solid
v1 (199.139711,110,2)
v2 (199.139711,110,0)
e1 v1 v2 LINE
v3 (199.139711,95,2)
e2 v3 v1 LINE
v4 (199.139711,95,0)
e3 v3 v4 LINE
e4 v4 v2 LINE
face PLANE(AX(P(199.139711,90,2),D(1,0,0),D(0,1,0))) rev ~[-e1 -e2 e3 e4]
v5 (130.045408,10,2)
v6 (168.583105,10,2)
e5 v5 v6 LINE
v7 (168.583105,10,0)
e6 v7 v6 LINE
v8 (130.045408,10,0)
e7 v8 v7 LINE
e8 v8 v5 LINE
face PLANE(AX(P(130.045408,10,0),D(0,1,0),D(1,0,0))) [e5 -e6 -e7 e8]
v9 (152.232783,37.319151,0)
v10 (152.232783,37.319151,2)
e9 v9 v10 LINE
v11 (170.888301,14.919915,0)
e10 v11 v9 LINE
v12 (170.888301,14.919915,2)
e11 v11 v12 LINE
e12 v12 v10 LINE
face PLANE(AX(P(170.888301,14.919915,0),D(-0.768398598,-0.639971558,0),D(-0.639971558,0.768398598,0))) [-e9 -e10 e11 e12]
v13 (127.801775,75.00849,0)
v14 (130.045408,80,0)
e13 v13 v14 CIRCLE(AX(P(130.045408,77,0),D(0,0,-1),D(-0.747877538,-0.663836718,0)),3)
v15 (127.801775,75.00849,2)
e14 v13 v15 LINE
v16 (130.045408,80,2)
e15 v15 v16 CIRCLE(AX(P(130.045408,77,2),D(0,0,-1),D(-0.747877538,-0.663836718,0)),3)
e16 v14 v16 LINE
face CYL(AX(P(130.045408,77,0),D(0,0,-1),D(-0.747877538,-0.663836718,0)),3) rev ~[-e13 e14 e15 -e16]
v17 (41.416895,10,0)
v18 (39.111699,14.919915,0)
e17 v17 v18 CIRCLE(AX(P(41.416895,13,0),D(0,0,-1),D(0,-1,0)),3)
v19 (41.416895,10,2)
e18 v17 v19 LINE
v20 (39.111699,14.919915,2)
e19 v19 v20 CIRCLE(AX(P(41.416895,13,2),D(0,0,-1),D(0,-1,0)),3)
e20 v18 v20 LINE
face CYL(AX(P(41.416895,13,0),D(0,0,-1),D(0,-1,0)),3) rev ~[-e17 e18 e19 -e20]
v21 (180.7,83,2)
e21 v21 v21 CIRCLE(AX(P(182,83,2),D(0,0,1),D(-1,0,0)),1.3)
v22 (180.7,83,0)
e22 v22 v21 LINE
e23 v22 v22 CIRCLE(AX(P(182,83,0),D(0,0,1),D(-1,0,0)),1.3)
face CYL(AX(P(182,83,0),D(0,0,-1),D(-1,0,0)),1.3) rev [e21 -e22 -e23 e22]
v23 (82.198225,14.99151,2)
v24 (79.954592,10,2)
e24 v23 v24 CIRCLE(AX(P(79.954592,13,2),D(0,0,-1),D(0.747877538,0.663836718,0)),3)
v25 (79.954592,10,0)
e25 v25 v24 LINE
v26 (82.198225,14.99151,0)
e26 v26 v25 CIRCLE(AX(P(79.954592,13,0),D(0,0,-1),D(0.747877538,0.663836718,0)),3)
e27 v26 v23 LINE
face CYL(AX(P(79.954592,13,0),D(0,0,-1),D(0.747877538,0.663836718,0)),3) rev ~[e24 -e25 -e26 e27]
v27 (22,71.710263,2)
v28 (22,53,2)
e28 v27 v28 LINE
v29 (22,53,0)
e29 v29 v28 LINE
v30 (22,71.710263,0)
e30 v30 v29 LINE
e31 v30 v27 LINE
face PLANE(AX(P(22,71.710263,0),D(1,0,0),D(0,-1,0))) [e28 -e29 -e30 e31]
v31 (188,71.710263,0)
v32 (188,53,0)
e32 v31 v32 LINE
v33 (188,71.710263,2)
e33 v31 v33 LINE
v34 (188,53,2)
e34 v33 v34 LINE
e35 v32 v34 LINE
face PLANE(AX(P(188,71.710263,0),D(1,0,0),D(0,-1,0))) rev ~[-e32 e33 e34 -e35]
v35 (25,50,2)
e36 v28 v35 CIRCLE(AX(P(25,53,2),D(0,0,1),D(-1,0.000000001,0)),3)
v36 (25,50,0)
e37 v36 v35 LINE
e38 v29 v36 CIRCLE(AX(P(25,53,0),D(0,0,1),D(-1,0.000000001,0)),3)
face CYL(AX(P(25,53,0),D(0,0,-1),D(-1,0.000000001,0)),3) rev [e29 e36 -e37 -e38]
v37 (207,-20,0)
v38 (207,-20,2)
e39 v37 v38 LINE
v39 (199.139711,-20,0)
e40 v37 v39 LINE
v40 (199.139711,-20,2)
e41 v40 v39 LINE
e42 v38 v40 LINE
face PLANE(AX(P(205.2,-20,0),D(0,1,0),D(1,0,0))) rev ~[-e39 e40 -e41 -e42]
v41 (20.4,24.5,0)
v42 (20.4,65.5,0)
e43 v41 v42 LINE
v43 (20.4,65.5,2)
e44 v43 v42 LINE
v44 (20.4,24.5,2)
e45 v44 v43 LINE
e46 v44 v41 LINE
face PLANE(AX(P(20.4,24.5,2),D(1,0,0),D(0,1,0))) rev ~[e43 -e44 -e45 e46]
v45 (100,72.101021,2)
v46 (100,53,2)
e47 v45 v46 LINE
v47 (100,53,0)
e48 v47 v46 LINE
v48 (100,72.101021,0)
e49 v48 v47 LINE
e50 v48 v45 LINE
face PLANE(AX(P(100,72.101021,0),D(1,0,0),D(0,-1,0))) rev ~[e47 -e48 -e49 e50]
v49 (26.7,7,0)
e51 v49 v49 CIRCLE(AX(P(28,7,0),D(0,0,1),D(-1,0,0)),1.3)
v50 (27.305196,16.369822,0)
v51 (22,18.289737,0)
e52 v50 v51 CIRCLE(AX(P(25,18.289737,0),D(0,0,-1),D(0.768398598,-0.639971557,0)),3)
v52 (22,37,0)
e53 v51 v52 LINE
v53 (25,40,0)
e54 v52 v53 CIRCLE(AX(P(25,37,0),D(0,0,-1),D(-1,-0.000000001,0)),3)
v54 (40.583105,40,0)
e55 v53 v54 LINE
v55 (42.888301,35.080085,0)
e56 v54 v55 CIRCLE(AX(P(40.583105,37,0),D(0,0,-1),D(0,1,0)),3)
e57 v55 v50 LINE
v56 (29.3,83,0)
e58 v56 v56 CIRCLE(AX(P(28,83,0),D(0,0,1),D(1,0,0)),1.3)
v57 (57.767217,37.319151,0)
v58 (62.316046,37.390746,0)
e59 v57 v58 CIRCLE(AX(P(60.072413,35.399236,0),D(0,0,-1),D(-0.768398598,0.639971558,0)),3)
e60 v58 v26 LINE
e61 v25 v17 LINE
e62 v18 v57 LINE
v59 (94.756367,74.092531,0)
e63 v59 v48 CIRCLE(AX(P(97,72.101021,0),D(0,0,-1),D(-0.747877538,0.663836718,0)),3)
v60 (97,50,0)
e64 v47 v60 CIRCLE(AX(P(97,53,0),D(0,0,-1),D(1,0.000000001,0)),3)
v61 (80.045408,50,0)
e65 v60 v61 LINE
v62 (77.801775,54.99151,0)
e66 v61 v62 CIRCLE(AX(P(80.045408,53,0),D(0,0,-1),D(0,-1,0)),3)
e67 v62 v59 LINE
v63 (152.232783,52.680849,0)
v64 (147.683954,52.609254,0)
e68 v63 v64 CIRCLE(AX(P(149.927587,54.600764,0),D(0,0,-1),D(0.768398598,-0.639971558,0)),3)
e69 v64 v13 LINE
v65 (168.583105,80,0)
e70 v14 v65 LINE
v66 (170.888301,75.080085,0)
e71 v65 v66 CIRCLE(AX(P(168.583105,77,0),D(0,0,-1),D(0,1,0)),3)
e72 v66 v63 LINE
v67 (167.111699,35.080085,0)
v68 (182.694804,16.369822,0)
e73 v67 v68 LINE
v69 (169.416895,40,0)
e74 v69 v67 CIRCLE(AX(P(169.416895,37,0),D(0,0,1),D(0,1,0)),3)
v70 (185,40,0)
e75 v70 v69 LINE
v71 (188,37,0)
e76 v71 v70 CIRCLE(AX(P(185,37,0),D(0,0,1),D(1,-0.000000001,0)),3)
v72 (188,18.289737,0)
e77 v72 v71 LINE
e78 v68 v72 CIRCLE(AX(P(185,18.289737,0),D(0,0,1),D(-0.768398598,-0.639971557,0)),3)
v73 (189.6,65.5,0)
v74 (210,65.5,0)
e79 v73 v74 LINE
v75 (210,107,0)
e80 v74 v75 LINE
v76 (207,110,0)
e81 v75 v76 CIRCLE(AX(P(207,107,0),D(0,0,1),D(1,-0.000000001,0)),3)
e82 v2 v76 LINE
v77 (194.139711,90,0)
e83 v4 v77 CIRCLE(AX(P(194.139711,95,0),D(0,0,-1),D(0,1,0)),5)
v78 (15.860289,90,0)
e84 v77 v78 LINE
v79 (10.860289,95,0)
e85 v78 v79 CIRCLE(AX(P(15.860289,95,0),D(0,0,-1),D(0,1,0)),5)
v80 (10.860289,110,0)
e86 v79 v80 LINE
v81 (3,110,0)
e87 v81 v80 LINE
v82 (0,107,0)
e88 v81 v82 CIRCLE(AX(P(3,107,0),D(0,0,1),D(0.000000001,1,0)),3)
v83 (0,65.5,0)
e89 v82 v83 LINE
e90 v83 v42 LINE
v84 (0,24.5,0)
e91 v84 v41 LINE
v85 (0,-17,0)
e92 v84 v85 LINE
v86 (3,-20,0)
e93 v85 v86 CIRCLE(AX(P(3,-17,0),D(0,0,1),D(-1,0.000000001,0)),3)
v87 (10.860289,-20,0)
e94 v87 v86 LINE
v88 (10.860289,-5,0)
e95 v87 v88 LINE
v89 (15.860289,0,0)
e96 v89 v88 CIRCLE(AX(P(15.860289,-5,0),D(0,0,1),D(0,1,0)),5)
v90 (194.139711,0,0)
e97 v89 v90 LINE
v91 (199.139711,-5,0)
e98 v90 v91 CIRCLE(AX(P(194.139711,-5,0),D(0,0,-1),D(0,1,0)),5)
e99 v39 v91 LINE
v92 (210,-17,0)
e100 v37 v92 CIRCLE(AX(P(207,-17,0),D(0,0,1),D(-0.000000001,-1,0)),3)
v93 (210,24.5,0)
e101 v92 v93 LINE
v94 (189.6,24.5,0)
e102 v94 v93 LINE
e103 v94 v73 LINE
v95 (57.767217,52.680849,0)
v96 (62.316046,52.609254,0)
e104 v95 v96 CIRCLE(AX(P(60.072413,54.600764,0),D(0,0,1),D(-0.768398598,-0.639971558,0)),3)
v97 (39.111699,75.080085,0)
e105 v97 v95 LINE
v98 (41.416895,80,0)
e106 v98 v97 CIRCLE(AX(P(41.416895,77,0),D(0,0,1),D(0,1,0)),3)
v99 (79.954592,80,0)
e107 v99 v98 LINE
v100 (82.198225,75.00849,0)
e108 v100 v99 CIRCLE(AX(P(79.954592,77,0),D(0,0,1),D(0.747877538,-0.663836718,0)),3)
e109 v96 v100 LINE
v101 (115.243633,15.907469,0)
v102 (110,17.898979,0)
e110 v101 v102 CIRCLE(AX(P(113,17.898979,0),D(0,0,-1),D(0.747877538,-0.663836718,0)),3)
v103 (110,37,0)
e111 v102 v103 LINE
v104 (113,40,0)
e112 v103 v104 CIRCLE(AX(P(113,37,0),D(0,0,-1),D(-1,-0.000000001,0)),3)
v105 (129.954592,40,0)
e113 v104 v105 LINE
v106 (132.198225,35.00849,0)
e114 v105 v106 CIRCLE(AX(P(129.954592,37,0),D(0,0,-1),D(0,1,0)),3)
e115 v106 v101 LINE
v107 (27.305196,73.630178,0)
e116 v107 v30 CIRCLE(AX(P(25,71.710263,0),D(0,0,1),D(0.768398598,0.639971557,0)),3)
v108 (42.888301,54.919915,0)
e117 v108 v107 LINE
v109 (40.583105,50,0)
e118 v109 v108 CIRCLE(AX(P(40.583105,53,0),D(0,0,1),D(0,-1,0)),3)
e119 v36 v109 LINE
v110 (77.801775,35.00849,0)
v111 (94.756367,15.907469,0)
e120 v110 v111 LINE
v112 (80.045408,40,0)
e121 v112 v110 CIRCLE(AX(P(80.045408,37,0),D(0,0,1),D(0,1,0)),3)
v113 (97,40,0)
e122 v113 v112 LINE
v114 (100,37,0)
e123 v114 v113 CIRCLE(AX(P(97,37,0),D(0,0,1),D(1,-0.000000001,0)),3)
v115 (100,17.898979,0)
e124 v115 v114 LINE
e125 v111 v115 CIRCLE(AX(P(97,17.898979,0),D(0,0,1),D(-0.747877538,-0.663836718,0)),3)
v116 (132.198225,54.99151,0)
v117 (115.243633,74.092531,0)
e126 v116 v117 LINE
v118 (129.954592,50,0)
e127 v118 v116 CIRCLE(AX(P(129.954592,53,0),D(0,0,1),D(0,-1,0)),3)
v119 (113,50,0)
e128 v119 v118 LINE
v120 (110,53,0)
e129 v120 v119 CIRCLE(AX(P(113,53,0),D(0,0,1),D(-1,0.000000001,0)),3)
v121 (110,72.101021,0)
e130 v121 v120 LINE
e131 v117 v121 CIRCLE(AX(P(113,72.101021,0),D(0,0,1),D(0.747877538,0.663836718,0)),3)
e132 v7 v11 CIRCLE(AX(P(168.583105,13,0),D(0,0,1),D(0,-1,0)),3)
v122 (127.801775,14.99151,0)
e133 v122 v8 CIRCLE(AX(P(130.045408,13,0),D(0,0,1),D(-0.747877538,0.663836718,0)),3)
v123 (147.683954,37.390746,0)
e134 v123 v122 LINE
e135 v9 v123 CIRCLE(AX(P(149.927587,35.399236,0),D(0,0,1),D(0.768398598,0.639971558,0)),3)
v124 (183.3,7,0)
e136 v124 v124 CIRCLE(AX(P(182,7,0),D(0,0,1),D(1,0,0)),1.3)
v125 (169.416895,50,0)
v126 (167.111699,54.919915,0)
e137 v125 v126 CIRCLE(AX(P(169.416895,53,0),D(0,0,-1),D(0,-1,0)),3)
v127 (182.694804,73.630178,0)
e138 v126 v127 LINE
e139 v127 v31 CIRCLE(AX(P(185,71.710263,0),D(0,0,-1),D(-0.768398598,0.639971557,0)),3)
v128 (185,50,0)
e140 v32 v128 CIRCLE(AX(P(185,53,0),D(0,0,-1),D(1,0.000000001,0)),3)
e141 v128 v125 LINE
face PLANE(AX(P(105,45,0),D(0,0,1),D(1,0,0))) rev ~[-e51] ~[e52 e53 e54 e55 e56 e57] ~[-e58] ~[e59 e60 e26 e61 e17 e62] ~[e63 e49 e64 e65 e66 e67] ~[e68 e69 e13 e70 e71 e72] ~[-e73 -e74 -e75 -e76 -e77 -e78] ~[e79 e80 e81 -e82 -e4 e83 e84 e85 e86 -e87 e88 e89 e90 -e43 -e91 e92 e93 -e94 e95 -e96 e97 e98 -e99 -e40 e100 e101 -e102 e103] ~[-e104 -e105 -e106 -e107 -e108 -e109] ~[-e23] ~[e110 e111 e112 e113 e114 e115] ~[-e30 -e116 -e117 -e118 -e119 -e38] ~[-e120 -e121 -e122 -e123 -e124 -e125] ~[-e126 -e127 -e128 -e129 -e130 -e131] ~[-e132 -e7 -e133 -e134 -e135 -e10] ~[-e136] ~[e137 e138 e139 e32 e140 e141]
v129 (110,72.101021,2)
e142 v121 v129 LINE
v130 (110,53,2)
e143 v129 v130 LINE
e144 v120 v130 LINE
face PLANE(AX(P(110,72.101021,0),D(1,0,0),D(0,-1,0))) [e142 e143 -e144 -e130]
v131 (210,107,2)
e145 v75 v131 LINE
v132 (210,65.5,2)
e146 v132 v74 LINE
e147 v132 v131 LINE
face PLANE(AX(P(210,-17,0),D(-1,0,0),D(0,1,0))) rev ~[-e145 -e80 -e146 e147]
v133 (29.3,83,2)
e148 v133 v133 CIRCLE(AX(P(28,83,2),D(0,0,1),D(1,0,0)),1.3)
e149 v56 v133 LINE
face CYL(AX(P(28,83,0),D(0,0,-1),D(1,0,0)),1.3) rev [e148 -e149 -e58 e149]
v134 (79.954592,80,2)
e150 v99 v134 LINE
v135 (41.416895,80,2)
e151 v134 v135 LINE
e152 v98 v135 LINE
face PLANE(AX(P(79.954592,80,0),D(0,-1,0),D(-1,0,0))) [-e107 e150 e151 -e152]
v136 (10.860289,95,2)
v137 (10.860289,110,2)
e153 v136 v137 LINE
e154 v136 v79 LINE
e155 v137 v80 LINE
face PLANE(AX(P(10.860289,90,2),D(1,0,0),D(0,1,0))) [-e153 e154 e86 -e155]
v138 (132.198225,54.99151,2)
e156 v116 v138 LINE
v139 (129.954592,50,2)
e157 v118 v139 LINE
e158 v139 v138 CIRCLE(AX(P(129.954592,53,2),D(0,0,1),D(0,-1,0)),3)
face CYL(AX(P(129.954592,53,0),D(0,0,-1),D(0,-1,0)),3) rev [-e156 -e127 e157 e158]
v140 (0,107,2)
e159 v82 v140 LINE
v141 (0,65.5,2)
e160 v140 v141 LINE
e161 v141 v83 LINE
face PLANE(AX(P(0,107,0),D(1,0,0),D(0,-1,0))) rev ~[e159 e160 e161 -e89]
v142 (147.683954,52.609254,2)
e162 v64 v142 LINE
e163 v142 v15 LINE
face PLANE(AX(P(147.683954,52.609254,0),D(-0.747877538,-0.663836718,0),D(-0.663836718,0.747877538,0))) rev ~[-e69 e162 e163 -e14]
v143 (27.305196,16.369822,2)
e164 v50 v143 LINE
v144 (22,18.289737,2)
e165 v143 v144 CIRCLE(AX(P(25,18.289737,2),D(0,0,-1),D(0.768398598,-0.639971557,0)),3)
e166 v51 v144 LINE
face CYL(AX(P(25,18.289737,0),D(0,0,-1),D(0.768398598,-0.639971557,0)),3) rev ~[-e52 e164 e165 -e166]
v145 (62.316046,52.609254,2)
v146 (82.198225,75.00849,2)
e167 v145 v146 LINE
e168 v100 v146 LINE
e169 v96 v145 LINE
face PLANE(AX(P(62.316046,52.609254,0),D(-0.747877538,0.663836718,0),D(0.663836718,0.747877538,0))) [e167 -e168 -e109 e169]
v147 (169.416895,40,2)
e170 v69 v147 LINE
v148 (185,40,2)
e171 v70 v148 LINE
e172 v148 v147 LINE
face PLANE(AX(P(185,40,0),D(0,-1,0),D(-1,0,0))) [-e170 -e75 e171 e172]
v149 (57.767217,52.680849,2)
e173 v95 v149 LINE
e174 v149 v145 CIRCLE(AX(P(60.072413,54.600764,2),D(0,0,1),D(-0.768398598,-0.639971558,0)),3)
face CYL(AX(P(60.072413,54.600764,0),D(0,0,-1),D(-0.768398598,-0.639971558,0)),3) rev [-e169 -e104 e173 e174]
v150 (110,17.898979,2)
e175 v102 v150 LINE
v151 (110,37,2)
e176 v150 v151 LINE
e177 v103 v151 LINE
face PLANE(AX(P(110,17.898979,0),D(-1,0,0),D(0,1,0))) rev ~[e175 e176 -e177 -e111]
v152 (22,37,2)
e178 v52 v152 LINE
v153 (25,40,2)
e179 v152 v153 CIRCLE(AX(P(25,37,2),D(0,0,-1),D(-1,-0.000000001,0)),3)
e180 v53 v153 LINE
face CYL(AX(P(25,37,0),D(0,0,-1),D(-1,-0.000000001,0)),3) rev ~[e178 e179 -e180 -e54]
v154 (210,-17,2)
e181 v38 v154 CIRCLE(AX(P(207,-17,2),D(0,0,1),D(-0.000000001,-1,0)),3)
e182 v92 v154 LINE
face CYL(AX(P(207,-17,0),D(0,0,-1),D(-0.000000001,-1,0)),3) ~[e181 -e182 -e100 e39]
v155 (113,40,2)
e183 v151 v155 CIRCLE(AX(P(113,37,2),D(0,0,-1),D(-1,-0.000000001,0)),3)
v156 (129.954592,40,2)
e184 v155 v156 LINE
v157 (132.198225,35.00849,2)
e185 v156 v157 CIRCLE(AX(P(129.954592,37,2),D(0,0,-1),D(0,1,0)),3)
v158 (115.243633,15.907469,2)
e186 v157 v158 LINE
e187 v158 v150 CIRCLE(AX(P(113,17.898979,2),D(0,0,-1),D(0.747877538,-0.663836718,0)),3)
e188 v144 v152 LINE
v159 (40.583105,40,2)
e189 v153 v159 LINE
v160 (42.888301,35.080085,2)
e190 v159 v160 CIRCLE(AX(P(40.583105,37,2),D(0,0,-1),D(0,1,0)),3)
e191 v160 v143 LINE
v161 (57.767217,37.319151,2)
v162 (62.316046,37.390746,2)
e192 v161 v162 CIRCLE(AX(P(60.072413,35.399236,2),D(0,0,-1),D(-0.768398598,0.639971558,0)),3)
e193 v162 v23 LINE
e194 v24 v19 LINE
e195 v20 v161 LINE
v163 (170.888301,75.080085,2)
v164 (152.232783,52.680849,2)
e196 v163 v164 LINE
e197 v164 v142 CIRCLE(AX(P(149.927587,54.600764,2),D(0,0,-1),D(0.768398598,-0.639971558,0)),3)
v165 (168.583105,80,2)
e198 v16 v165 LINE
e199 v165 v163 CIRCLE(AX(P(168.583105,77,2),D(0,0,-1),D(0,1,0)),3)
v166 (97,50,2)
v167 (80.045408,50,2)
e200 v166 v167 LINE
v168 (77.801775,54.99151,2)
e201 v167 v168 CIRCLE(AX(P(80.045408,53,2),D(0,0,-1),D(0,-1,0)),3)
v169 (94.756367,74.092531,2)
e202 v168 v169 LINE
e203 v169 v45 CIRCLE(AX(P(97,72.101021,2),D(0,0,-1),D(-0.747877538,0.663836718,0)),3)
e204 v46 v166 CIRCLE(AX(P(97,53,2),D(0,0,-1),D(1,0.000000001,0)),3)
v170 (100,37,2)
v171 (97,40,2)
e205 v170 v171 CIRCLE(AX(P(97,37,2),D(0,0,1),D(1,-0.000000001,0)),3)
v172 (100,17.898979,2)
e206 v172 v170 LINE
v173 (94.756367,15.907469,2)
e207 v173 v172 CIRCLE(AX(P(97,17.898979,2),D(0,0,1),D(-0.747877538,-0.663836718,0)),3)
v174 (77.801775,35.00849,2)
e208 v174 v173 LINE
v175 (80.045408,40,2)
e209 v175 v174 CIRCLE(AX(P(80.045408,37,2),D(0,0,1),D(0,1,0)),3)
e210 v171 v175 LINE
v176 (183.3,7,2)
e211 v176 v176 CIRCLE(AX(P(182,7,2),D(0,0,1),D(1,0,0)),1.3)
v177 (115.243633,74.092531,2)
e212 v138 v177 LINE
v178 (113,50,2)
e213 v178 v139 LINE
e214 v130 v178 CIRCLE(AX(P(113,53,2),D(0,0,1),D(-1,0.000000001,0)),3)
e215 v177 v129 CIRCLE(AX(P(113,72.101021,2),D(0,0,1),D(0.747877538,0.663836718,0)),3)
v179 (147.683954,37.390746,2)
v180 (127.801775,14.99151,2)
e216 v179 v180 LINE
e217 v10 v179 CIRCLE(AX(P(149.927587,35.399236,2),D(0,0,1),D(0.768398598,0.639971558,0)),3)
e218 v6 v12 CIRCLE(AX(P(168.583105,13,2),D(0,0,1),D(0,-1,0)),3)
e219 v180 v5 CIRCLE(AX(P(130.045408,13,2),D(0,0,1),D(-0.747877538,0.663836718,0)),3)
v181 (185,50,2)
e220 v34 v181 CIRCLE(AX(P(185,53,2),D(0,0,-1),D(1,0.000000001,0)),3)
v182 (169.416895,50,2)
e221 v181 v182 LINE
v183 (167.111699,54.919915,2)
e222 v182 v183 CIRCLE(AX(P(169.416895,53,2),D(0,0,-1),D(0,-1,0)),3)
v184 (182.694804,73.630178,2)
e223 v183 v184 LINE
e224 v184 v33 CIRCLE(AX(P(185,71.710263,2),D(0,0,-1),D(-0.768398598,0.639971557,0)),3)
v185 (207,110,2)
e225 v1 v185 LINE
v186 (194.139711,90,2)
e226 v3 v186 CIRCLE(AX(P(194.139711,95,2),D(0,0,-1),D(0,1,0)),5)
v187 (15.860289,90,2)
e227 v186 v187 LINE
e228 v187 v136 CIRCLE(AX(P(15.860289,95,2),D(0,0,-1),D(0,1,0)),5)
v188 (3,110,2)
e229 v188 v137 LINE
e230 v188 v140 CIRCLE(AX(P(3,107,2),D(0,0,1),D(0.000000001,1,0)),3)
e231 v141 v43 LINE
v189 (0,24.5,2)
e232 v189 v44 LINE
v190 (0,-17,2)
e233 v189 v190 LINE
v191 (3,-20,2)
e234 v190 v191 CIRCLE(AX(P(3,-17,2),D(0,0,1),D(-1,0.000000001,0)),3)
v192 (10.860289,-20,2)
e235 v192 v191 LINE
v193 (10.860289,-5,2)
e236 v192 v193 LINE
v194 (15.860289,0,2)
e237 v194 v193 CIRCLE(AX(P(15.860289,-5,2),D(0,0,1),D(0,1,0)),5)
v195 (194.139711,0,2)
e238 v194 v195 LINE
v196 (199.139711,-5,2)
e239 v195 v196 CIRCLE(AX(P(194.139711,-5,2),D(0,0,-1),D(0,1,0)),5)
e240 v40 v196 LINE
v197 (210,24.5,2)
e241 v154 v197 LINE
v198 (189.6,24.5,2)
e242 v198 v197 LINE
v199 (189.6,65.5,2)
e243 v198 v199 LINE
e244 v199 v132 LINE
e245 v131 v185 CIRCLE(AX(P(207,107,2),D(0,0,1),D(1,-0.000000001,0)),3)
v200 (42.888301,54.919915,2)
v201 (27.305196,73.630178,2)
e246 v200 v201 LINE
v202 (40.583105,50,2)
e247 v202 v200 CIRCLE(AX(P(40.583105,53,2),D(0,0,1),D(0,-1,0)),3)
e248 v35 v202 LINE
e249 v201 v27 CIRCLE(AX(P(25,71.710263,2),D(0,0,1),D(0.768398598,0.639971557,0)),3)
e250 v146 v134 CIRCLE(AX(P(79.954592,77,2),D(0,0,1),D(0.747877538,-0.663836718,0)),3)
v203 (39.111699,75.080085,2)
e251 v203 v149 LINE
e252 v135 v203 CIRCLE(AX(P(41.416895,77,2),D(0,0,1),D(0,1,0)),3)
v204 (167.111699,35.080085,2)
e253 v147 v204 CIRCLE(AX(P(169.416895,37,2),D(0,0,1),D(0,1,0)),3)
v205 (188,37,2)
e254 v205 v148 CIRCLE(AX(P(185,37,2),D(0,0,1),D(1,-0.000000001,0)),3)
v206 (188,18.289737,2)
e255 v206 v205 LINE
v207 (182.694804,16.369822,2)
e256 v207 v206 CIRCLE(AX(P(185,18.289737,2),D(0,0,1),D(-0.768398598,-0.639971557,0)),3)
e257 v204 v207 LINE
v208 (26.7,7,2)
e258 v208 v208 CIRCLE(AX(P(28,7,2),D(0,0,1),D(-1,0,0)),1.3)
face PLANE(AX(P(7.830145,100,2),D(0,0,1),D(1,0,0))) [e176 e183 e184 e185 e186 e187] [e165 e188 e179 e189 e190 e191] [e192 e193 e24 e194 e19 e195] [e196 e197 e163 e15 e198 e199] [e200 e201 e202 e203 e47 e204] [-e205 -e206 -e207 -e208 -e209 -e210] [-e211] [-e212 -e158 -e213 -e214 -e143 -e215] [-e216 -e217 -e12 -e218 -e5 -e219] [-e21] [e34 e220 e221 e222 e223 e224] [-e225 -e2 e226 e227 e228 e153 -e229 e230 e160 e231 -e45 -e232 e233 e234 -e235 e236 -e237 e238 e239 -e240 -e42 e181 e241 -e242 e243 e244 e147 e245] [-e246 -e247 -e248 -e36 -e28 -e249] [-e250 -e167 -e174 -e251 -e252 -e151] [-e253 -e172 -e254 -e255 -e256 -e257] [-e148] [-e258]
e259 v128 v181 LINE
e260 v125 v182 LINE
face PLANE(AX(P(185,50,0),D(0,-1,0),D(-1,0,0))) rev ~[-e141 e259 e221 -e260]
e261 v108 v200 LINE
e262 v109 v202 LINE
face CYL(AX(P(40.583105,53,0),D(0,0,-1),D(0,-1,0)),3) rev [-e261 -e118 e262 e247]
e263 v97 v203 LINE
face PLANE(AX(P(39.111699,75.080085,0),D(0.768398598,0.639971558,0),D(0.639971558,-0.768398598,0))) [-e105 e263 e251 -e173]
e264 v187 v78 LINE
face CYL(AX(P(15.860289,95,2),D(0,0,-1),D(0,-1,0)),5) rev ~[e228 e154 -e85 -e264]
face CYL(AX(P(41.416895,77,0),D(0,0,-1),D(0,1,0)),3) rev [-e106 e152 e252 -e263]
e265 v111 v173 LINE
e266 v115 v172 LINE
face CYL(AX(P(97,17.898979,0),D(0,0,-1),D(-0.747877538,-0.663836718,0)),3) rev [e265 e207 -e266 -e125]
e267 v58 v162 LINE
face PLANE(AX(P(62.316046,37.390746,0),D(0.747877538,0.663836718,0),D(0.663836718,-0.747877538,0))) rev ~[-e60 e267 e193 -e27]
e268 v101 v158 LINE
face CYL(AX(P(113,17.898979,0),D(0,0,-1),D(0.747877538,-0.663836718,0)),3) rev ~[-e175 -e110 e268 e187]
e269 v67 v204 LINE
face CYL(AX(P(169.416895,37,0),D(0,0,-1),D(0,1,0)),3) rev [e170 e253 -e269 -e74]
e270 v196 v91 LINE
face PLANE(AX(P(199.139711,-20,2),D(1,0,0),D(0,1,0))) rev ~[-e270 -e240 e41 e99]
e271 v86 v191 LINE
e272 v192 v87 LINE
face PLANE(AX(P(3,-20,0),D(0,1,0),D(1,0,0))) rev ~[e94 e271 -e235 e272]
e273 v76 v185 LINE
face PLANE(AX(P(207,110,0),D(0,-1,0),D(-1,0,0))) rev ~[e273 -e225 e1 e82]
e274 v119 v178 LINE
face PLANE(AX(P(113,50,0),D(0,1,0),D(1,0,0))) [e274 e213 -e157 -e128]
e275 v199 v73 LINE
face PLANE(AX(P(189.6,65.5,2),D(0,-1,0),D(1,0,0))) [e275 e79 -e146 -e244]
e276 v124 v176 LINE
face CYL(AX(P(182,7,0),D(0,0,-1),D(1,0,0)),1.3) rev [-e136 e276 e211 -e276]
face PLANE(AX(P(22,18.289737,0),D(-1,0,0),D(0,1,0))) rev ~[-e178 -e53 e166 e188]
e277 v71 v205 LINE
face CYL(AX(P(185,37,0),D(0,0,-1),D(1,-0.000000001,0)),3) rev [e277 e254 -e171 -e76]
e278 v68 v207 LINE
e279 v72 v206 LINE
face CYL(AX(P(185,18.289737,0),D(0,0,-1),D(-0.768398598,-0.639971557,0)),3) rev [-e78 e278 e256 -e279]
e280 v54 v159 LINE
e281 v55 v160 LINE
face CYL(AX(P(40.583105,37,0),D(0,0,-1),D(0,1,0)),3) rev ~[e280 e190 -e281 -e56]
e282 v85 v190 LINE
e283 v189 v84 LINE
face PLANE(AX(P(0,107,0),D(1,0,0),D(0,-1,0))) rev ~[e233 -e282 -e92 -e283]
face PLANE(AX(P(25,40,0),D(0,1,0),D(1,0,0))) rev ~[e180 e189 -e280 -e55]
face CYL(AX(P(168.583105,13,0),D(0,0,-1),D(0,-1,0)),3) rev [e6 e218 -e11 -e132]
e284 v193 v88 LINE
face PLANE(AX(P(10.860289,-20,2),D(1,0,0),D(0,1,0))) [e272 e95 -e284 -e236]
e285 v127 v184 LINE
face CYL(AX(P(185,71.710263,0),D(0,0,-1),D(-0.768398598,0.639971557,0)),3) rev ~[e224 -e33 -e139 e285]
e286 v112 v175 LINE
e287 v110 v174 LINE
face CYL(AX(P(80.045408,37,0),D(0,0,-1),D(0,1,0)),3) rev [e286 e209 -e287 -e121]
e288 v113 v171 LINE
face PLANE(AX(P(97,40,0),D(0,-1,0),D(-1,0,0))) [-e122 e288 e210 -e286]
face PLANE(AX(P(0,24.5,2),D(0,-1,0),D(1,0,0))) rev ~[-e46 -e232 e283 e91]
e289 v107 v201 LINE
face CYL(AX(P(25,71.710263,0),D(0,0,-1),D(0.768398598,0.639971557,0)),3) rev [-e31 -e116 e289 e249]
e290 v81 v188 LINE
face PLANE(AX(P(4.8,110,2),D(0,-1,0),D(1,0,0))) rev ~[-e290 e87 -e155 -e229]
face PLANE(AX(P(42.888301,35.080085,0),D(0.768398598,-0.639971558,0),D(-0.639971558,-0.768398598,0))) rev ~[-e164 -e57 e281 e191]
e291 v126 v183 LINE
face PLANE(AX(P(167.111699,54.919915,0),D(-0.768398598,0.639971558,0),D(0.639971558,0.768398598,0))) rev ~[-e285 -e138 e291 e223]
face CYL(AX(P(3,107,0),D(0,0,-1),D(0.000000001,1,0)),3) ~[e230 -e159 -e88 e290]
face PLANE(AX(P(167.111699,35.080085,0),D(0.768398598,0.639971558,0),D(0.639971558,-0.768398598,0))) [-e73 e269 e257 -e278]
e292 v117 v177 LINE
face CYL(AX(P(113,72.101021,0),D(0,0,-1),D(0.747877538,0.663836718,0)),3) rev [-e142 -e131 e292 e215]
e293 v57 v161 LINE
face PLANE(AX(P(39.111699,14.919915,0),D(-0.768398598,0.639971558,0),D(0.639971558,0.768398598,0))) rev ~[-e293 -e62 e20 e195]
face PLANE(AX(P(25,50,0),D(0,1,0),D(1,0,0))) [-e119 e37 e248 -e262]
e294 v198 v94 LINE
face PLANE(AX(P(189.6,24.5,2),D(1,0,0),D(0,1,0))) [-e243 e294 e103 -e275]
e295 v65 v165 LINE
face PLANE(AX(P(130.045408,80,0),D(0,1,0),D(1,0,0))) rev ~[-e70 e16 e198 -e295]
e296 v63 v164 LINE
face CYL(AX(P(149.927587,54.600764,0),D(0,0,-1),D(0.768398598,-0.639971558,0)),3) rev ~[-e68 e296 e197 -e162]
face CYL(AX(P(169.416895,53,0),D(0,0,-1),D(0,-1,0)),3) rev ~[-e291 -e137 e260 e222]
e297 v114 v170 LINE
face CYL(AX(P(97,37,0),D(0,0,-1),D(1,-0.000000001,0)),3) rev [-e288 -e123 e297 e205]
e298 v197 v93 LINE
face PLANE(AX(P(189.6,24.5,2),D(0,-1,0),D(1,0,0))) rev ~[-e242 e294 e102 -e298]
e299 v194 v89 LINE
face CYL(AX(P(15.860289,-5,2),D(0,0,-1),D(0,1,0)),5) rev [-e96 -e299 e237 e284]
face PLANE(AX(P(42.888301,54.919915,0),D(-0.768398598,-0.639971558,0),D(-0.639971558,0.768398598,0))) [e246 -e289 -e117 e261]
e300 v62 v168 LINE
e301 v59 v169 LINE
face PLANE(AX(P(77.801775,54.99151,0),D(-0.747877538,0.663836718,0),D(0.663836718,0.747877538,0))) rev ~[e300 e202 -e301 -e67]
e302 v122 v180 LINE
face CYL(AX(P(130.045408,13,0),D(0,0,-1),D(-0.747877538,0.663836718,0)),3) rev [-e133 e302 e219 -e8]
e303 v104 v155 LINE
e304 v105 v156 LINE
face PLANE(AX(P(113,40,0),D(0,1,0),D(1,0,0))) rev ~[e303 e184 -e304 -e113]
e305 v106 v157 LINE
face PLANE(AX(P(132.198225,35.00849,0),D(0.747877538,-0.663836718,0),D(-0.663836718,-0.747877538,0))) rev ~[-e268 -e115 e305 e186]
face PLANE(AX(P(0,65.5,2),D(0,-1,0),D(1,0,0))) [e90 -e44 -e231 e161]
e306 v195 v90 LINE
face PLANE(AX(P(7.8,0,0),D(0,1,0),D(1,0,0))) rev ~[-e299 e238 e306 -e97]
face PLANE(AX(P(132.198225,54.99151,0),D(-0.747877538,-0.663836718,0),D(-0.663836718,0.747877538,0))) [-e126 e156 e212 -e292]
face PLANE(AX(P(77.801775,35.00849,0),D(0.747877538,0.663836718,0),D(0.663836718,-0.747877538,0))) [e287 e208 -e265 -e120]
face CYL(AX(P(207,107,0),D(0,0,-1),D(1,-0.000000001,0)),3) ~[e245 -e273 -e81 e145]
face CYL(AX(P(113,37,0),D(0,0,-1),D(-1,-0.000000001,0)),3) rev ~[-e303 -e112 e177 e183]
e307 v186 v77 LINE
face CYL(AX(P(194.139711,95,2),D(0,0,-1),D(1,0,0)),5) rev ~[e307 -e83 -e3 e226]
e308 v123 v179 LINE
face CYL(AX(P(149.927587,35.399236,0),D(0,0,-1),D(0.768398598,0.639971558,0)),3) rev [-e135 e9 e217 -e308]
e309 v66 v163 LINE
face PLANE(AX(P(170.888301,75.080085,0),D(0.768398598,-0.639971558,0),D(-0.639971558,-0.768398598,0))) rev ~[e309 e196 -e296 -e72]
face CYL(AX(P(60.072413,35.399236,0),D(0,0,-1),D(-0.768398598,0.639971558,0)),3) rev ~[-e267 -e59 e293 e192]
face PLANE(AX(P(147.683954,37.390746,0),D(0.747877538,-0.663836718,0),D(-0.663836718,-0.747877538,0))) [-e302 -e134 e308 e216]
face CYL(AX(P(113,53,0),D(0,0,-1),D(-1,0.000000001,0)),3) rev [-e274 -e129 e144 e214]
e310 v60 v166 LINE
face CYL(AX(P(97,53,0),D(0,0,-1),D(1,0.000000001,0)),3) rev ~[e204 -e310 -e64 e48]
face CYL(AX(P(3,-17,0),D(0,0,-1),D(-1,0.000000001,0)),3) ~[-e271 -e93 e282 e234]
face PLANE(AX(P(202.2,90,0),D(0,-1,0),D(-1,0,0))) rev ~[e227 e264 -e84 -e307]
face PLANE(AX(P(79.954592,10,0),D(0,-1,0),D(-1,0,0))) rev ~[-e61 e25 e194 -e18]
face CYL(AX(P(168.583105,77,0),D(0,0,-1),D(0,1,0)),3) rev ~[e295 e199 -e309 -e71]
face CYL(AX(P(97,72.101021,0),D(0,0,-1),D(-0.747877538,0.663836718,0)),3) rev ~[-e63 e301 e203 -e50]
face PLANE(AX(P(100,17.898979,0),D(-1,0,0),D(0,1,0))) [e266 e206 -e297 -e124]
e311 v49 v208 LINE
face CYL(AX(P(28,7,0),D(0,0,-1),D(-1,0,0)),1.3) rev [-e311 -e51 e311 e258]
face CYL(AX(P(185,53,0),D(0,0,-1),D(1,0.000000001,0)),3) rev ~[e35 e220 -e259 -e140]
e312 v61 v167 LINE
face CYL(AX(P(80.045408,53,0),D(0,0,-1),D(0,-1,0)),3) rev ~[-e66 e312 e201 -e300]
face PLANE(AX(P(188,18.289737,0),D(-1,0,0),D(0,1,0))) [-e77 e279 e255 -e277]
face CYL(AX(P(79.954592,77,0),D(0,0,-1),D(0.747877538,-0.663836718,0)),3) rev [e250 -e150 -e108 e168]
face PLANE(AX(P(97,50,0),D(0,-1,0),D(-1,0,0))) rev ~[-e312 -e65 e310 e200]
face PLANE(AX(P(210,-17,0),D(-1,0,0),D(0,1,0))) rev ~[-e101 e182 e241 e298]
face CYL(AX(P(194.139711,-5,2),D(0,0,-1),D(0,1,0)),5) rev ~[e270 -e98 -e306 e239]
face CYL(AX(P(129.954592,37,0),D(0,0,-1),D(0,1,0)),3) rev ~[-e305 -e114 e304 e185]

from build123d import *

# Parameters (mm, degrees)
SKETCH_1_R          = 1.75
SKETCH_1_R_2        = 1.3
EXTRUDE_1_DEPTH     = 2
SKETCH_2_W          = 20.4
SKETCH_2_H          = 41
CUT_EXTRUDE_1_DEPTH = 238.073828163
SKETCH_3_W          = 6.060289077
SKETCH_3_H          = 20
EXTRUDE_2_DEPTH     = 2
FILLET_3_R          = 5
FILLET_4_R          = 5
FILLET_5_R          = 5
FILLET_6_R          = 5


with BuildPart() as part:
    # 草图1 → 凸台-拉伸1 (new body)
    with BuildSketch(Plane.XY):
        with BuildLine():
            Line((7.8, 0), (202.2, 0))
            ThreePointArc((202.2, 0), (204.321320344, -0.878679656), (205.2, -3))
            Line((205.2, -3), (205.2, -20))
            Line((205.2, -20), (207, -20))
            ThreePointArc((207, -20), (209.121320344, -19.121320344), (210, -17))
            Line((210, -17), (210, 0))
            Line((210, 0), (210, 90))
            Line((210, 90), (210, 107))
            ThreePointArc((210, 107), (209.121320344, 109.121320344), (207, 110))
            Line((207, 110), (205.2, 110))
            Line((205.2, 110), (205.2, 93))
            ThreePointArc((205.2, 93), (204.321320344, 90.878679656), (202.2, 90))
            Line((202.2, 90), (7.8, 90))
            ThreePointArc((7.8, 90), (5.678679656, 90.878679656), (4.8, 93))
            Line((4.8, 93), (4.8, 110))
            Line((4.8, 110), (3, 110))
            ThreePointArc((3, 110), (0.878679656, 109.121320344), (0, 107))
            Line((0, 107), (0, 90))
            Line((0, 90), (0, 0))
            Line((0, 0), (0, -17))
            ThreePointArc((0, -17), (0.878679656, -19.121320344), (3, -20))
            Line((3, -20), (4.8, -20))
            Line((4.8, -20), (4.8, -3))
            ThreePointArc((4.8, -3), (5.678679656, -0.878679656), (7.8, 0))
        make_face()
        with Locations((2.5, 53)):
            Circle(SKETCH_1_R, mode=Mode.SUBTRACT)
        with Locations(Location((17.5, 53, 0), (0, 0, 180))):
            Circle(SKETCH_1_R, mode=Mode.SUBTRACT)
        with Locations((17.5, 37)):
            Circle(SKETCH_1_R, mode=Mode.SUBTRACT)
        with Locations(Location((2.5, 37, 0), (0, 0, 180))):
            Circle(SKETCH_1_R, mode=Mode.SUBTRACT)
        with Locations((207.5, 37)):
            Circle(SKETCH_1_R, mode=Mode.SUBTRACT)
        with Locations(Location((192.5, 37, 0), (0, 0, 180))):
            Circle(SKETCH_1_R, mode=Mode.SUBTRACT)
        with Locations((192.5, 53)):
            Circle(SKETCH_1_R, mode=Mode.SUBTRACT)
        with Locations(Location((207.5, 53, 0), (0, 0, 180))):
            Circle(SKETCH_1_R, mode=Mode.SUBTRACT)
        with Locations((28, 83)):
            Circle(SKETCH_1_R_2, mode=Mode.SUBTRACT)
        with Locations(Location((182, 83, 0), (0, 0, 180))):
            Circle(SKETCH_1_R_2, mode=Mode.SUBTRACT)
        with Locations((182, 7)):
            Circle(SKETCH_1_R_2, mode=Mode.SUBTRACT)
        with Locations(Location((28, 7, 0), (0, 0, 180))):
            Circle(SKETCH_1_R_2, mode=Mode.SUBTRACT)
        with BuildLine():
            Line((22, 71.710263165), (22, 53))
            ThreePointArc((22, 53), (22.878679656, 50.878679656), (25, 50))
            Line((25, 50), (40.583105292, 50))
            ThreePointArc((40.583105292, 50), (43.299697276, 51.727157515), (42.888301086, 54.919914673))
            Line((42.888301086, 54.919914673), (27.305195794, 73.630177837))
            ThreePointArc((27.305195794, 73.630177837), (23.979114939, 74.531219331), (22, 71.710263165))
        make_face(mode=Mode.SUBTRACT)
        with BuildLine():
            Line((39.111698914, 75.080085327), (57.767217115, 52.680849201))
            ThreePointArc((57.767217115, 52.680849201), (60.025200787, 51.601135394), (62.316045524, 52.60925372))
            Line((62.316045524, 52.60925372), (82.19822493, 75.008489847))
            ThreePointArc((82.19822493, 75.008489847), (82.690879074, 78.229932832), (79.954592315, 80))
            Line((79.954592315, 80), (41.416894708, 80))
            ThreePointArc((41.416894708, 80), (38.700302724, 78.272842485), (39.111698914, 75.080085327))
        make_face(mode=Mode.SUBTRACT)
        with BuildLine():
            Line((100, 72.101020514), (100, 53))
            ThreePointArc((100, 53), (99.121320344, 50.878679656), (97, 50))
            Line((97, 50), (80.045407685, 50))
            ThreePointArc((80.045407685, 50), (77.309120926, 51.770067168), (77.80177507, 54.991510153))
            Line((77.80177507, 54.991510153), (94.756367385, 74.092530668))
            ThreePointArc((94.756367385, 74.092530668), (98.065153077, 74.905561283), (100, 72.101020514))
        make_face(mode=Mode.SUBTRACT)
        with BuildLine():
            Line((113, 50), (129.954592315, 50))
            ThreePointArc((129.954592315, 50), (132.690879074, 51.770067168), (132.19822493, 54.991510153))
            Line((132.19822493, 54.991510153), (115.243632615, 74.092530668))
            ThreePointArc((115.243632615, 74.092530668), (111.934846923, 74.905561283), (110, 72.101020514))
            Line((110, 72.101020514), (110, 53))
            ThreePointArc((110, 53), (110.878679656, 50.878679656), (113, 50))
        make_face(mode=Mode.SUBTRACT)
        with BuildLine():
            Line((147.683954476, 52.60925372), (127.80177507, 75.008489847))
            ThreePointArc((127.80177507, 75.008489847), (127.309120926, 78.229932832), (130.045407685, 80))
            Line((130.045407685, 80), (168.583105292, 80))
            ThreePointArc((168.583105292, 80), (171.299697276, 78.272842485), (170.888301086, 75.080085327))
            Line((170.888301086, 75.080085327), (152.232782885, 52.680849201))
            ThreePointArc((152.232782885, 52.680849201), (149.974799213, 51.601135394), (147.683954476, 52.60925372))
        make_face(mode=Mode.SUBTRACT)
        with BuildLine():
            Line((167.111698914, 54.919914673), (182.694804206, 73.630177837))
            ThreePointArc((182.694804206, 73.630177837), (186.020885061, 74.531219331), (188, 71.710263165))
            Line((188, 71.710263165), (188, 53))
            ThreePointArc((188, 53), (187.121320344, 50.878679656), (185, 50))
            Line((185, 50), (169.416894708, 50))
            ThreePointArc((169.416894708, 50), (166.700302724, 51.727157515), (167.111698914, 54.919914673))
        make_face(mode=Mode.SUBTRACT)
        with BuildLine():
            Line((185, 40), (169.416894708, 40))
            ThreePointArc((169.416894708, 40), (166.700302724, 38.272842485), (167.111698914, 35.080085327))
            Line((167.111698914, 35.080085327), (182.694804206, 16.369822163))
            ThreePointArc((182.694804206, 16.369822163), (186.020885061, 15.468780669), (188, 18.289736835))
            Line((188, 18.289736835), (188, 37))
            ThreePointArc((188, 37), (187.121320344, 39.121320344), (185, 40))
        make_face(mode=Mode.SUBTRACT)
        with BuildLine():
            Line((170.888301086, 14.919914673), (152.232782885, 37.319150799))
            ThreePointArc((152.232782885, 37.319150799), (149.974799213, 38.398864606), (147.683954476, 37.39074628))
            Line((147.683954476, 37.39074628), (127.80177507, 14.991510153))
            ThreePointArc((127.80177507, 14.991510153), (127.309120926, 11.770067168), (130.045407685, 10))
            Line((130.045407685, 10), (168.583105292, 10))
            ThreePointArc((168.583105292, 10), (171.299697276, 11.727157515), (170.888301086, 14.919914673))
        make_face(mode=Mode.SUBTRACT)
        with BuildLine():
            Line((113, 40), (129.954592315, 40))
            ThreePointArc((129.954592315, 40), (132.690879074, 38.229932832), (132.19822493, 35.008489847))
            Line((132.19822493, 35.008489847), (115.243632615, 15.907469332))
            ThreePointArc((115.243632615, 15.907469332), (111.934846923, 15.094438717), (110, 17.898979486))
            Line((110, 17.898979486), (110, 37))
            ThreePointArc((110, 37), (110.878679656, 39.121320344), (113, 40))
        make_face(mode=Mode.SUBTRACT)
        with BuildLine():
            Line((97, 40), (80.045407685, 40))
            ThreePointArc((80.045407685, 40), (77.309120926, 38.229932832), (77.80177507, 35.008489847))
            Line((77.80177507, 35.008489847), (94.756367385, 15.907469332))
            ThreePointArc((94.756367385, 15.907469332), (98.065153077, 15.094438717), (100, 17.898979486))
            Line((100, 17.898979486), (100, 37))
            ThreePointArc((100, 37), (99.121320344, 39.121320344), (97, 40))
        make_face(mode=Mode.SUBTRACT)
        with BuildLine():
            Line((62.316045524, 37.39074628), (82.19822493, 14.991510153))
            ThreePointArc((82.19822493, 14.991510153), (82.690879074, 11.770067168), (79.954592315, 10))
            Line((79.954592315, 10), (41.416894708, 10))
            ThreePointArc((41.416894708, 10), (38.700302724, 11.727157515), (39.111698914, 14.919914673))
            Line((39.111698914, 14.919914673), (57.767217115, 37.319150799))
            ThreePointArc((57.767217115, 37.319150799), (60.025200787, 38.398864606), (62.316045524, 37.39074628))
        make_face(mode=Mode.SUBTRACT)
        with BuildLine():
            Line((42.888301086, 35.080085327), (27.305195794, 16.369822163))
            ThreePointArc((27.305195794, 16.369822163), (23.979114939, 15.468780669), (22, 18.289736835))
            Line((22, 18.289736835), (22, 37))
            ThreePointArc((22, 37), (22.878679656, 39.121320344), (25, 40))
            Line((25, 40), (40.583105292, 40))
            ThreePointArc((40.583105292, 40), (43.299697276, 38.272842485), (42.888301086, 35.080085327))
        make_face(mode=Mode.SUBTRACT)
    extrude(amount=EXTRUDE_1_DEPTH)

    # 草图2 → 切除-拉伸1 (cut, through all)
    with BuildSketch(Plane.XY.offset(2)):
        with Locations((10.2, 45)):
            Rectangle(SKETCH_2_W, SKETCH_2_H)
        with Locations((199.8, 45)):
            Rectangle(SKETCH_2_W, SKETCH_2_H)
    extrude(amount=-CUT_EXTRUDE_1_DEPTH, mode=Mode.SUBTRACT)

    # 草图3 → 凸台-拉伸2 (add)
    with BuildSketch(Plane.XY.offset(2)):
        with Locations((7.830144539, 100)):
            Rectangle(SKETCH_3_W, SKETCH_3_H)
        with Locations((202.169855462, 100)):
            Rectangle(SKETCH_3_W, SKETCH_3_H)
        with Locations((202.169855462, -10)):
            Rectangle(SKETCH_3_W, SKETCH_3_H)
        with Locations((7.830144539, -10)):
            Rectangle(SKETCH_3_W, SKETCH_3_H)
    extrude(amount=-EXTRUDE_2_DEPTH)

    # 圆角3
    fillet_3_edges = [part.edges().sort_by_distance(p)[0] for p in [
        (10.860289077, 0, 1),
    ]]
    fillet(fillet_3_edges, radius=FILLET_3_R)

    # 圆角4
    fillet_4_edges = [part.edges().sort_by_distance(p)[0] for p in [
        (199.139710923, 0, 1),
    ]]
    fillet(fillet_4_edges, radius=FILLET_4_R)

    # 圆角5
    fillet_5_edges = [part.edges().sort_by_distance(p)[0] for p in [
        (199.139710923, 90, 1),
    ]]
    fillet(fillet_5_edges, radius=FILLET_5_R)

    # 圆角6
    fillet_6_edges = [part.edges().sort_by_distance(p)[0] for p in [
        (10.860289077, 90, 1),
    ]]
    fillet(fillet_6_edges, radius=FILLET_6_R)


solid = part.part
